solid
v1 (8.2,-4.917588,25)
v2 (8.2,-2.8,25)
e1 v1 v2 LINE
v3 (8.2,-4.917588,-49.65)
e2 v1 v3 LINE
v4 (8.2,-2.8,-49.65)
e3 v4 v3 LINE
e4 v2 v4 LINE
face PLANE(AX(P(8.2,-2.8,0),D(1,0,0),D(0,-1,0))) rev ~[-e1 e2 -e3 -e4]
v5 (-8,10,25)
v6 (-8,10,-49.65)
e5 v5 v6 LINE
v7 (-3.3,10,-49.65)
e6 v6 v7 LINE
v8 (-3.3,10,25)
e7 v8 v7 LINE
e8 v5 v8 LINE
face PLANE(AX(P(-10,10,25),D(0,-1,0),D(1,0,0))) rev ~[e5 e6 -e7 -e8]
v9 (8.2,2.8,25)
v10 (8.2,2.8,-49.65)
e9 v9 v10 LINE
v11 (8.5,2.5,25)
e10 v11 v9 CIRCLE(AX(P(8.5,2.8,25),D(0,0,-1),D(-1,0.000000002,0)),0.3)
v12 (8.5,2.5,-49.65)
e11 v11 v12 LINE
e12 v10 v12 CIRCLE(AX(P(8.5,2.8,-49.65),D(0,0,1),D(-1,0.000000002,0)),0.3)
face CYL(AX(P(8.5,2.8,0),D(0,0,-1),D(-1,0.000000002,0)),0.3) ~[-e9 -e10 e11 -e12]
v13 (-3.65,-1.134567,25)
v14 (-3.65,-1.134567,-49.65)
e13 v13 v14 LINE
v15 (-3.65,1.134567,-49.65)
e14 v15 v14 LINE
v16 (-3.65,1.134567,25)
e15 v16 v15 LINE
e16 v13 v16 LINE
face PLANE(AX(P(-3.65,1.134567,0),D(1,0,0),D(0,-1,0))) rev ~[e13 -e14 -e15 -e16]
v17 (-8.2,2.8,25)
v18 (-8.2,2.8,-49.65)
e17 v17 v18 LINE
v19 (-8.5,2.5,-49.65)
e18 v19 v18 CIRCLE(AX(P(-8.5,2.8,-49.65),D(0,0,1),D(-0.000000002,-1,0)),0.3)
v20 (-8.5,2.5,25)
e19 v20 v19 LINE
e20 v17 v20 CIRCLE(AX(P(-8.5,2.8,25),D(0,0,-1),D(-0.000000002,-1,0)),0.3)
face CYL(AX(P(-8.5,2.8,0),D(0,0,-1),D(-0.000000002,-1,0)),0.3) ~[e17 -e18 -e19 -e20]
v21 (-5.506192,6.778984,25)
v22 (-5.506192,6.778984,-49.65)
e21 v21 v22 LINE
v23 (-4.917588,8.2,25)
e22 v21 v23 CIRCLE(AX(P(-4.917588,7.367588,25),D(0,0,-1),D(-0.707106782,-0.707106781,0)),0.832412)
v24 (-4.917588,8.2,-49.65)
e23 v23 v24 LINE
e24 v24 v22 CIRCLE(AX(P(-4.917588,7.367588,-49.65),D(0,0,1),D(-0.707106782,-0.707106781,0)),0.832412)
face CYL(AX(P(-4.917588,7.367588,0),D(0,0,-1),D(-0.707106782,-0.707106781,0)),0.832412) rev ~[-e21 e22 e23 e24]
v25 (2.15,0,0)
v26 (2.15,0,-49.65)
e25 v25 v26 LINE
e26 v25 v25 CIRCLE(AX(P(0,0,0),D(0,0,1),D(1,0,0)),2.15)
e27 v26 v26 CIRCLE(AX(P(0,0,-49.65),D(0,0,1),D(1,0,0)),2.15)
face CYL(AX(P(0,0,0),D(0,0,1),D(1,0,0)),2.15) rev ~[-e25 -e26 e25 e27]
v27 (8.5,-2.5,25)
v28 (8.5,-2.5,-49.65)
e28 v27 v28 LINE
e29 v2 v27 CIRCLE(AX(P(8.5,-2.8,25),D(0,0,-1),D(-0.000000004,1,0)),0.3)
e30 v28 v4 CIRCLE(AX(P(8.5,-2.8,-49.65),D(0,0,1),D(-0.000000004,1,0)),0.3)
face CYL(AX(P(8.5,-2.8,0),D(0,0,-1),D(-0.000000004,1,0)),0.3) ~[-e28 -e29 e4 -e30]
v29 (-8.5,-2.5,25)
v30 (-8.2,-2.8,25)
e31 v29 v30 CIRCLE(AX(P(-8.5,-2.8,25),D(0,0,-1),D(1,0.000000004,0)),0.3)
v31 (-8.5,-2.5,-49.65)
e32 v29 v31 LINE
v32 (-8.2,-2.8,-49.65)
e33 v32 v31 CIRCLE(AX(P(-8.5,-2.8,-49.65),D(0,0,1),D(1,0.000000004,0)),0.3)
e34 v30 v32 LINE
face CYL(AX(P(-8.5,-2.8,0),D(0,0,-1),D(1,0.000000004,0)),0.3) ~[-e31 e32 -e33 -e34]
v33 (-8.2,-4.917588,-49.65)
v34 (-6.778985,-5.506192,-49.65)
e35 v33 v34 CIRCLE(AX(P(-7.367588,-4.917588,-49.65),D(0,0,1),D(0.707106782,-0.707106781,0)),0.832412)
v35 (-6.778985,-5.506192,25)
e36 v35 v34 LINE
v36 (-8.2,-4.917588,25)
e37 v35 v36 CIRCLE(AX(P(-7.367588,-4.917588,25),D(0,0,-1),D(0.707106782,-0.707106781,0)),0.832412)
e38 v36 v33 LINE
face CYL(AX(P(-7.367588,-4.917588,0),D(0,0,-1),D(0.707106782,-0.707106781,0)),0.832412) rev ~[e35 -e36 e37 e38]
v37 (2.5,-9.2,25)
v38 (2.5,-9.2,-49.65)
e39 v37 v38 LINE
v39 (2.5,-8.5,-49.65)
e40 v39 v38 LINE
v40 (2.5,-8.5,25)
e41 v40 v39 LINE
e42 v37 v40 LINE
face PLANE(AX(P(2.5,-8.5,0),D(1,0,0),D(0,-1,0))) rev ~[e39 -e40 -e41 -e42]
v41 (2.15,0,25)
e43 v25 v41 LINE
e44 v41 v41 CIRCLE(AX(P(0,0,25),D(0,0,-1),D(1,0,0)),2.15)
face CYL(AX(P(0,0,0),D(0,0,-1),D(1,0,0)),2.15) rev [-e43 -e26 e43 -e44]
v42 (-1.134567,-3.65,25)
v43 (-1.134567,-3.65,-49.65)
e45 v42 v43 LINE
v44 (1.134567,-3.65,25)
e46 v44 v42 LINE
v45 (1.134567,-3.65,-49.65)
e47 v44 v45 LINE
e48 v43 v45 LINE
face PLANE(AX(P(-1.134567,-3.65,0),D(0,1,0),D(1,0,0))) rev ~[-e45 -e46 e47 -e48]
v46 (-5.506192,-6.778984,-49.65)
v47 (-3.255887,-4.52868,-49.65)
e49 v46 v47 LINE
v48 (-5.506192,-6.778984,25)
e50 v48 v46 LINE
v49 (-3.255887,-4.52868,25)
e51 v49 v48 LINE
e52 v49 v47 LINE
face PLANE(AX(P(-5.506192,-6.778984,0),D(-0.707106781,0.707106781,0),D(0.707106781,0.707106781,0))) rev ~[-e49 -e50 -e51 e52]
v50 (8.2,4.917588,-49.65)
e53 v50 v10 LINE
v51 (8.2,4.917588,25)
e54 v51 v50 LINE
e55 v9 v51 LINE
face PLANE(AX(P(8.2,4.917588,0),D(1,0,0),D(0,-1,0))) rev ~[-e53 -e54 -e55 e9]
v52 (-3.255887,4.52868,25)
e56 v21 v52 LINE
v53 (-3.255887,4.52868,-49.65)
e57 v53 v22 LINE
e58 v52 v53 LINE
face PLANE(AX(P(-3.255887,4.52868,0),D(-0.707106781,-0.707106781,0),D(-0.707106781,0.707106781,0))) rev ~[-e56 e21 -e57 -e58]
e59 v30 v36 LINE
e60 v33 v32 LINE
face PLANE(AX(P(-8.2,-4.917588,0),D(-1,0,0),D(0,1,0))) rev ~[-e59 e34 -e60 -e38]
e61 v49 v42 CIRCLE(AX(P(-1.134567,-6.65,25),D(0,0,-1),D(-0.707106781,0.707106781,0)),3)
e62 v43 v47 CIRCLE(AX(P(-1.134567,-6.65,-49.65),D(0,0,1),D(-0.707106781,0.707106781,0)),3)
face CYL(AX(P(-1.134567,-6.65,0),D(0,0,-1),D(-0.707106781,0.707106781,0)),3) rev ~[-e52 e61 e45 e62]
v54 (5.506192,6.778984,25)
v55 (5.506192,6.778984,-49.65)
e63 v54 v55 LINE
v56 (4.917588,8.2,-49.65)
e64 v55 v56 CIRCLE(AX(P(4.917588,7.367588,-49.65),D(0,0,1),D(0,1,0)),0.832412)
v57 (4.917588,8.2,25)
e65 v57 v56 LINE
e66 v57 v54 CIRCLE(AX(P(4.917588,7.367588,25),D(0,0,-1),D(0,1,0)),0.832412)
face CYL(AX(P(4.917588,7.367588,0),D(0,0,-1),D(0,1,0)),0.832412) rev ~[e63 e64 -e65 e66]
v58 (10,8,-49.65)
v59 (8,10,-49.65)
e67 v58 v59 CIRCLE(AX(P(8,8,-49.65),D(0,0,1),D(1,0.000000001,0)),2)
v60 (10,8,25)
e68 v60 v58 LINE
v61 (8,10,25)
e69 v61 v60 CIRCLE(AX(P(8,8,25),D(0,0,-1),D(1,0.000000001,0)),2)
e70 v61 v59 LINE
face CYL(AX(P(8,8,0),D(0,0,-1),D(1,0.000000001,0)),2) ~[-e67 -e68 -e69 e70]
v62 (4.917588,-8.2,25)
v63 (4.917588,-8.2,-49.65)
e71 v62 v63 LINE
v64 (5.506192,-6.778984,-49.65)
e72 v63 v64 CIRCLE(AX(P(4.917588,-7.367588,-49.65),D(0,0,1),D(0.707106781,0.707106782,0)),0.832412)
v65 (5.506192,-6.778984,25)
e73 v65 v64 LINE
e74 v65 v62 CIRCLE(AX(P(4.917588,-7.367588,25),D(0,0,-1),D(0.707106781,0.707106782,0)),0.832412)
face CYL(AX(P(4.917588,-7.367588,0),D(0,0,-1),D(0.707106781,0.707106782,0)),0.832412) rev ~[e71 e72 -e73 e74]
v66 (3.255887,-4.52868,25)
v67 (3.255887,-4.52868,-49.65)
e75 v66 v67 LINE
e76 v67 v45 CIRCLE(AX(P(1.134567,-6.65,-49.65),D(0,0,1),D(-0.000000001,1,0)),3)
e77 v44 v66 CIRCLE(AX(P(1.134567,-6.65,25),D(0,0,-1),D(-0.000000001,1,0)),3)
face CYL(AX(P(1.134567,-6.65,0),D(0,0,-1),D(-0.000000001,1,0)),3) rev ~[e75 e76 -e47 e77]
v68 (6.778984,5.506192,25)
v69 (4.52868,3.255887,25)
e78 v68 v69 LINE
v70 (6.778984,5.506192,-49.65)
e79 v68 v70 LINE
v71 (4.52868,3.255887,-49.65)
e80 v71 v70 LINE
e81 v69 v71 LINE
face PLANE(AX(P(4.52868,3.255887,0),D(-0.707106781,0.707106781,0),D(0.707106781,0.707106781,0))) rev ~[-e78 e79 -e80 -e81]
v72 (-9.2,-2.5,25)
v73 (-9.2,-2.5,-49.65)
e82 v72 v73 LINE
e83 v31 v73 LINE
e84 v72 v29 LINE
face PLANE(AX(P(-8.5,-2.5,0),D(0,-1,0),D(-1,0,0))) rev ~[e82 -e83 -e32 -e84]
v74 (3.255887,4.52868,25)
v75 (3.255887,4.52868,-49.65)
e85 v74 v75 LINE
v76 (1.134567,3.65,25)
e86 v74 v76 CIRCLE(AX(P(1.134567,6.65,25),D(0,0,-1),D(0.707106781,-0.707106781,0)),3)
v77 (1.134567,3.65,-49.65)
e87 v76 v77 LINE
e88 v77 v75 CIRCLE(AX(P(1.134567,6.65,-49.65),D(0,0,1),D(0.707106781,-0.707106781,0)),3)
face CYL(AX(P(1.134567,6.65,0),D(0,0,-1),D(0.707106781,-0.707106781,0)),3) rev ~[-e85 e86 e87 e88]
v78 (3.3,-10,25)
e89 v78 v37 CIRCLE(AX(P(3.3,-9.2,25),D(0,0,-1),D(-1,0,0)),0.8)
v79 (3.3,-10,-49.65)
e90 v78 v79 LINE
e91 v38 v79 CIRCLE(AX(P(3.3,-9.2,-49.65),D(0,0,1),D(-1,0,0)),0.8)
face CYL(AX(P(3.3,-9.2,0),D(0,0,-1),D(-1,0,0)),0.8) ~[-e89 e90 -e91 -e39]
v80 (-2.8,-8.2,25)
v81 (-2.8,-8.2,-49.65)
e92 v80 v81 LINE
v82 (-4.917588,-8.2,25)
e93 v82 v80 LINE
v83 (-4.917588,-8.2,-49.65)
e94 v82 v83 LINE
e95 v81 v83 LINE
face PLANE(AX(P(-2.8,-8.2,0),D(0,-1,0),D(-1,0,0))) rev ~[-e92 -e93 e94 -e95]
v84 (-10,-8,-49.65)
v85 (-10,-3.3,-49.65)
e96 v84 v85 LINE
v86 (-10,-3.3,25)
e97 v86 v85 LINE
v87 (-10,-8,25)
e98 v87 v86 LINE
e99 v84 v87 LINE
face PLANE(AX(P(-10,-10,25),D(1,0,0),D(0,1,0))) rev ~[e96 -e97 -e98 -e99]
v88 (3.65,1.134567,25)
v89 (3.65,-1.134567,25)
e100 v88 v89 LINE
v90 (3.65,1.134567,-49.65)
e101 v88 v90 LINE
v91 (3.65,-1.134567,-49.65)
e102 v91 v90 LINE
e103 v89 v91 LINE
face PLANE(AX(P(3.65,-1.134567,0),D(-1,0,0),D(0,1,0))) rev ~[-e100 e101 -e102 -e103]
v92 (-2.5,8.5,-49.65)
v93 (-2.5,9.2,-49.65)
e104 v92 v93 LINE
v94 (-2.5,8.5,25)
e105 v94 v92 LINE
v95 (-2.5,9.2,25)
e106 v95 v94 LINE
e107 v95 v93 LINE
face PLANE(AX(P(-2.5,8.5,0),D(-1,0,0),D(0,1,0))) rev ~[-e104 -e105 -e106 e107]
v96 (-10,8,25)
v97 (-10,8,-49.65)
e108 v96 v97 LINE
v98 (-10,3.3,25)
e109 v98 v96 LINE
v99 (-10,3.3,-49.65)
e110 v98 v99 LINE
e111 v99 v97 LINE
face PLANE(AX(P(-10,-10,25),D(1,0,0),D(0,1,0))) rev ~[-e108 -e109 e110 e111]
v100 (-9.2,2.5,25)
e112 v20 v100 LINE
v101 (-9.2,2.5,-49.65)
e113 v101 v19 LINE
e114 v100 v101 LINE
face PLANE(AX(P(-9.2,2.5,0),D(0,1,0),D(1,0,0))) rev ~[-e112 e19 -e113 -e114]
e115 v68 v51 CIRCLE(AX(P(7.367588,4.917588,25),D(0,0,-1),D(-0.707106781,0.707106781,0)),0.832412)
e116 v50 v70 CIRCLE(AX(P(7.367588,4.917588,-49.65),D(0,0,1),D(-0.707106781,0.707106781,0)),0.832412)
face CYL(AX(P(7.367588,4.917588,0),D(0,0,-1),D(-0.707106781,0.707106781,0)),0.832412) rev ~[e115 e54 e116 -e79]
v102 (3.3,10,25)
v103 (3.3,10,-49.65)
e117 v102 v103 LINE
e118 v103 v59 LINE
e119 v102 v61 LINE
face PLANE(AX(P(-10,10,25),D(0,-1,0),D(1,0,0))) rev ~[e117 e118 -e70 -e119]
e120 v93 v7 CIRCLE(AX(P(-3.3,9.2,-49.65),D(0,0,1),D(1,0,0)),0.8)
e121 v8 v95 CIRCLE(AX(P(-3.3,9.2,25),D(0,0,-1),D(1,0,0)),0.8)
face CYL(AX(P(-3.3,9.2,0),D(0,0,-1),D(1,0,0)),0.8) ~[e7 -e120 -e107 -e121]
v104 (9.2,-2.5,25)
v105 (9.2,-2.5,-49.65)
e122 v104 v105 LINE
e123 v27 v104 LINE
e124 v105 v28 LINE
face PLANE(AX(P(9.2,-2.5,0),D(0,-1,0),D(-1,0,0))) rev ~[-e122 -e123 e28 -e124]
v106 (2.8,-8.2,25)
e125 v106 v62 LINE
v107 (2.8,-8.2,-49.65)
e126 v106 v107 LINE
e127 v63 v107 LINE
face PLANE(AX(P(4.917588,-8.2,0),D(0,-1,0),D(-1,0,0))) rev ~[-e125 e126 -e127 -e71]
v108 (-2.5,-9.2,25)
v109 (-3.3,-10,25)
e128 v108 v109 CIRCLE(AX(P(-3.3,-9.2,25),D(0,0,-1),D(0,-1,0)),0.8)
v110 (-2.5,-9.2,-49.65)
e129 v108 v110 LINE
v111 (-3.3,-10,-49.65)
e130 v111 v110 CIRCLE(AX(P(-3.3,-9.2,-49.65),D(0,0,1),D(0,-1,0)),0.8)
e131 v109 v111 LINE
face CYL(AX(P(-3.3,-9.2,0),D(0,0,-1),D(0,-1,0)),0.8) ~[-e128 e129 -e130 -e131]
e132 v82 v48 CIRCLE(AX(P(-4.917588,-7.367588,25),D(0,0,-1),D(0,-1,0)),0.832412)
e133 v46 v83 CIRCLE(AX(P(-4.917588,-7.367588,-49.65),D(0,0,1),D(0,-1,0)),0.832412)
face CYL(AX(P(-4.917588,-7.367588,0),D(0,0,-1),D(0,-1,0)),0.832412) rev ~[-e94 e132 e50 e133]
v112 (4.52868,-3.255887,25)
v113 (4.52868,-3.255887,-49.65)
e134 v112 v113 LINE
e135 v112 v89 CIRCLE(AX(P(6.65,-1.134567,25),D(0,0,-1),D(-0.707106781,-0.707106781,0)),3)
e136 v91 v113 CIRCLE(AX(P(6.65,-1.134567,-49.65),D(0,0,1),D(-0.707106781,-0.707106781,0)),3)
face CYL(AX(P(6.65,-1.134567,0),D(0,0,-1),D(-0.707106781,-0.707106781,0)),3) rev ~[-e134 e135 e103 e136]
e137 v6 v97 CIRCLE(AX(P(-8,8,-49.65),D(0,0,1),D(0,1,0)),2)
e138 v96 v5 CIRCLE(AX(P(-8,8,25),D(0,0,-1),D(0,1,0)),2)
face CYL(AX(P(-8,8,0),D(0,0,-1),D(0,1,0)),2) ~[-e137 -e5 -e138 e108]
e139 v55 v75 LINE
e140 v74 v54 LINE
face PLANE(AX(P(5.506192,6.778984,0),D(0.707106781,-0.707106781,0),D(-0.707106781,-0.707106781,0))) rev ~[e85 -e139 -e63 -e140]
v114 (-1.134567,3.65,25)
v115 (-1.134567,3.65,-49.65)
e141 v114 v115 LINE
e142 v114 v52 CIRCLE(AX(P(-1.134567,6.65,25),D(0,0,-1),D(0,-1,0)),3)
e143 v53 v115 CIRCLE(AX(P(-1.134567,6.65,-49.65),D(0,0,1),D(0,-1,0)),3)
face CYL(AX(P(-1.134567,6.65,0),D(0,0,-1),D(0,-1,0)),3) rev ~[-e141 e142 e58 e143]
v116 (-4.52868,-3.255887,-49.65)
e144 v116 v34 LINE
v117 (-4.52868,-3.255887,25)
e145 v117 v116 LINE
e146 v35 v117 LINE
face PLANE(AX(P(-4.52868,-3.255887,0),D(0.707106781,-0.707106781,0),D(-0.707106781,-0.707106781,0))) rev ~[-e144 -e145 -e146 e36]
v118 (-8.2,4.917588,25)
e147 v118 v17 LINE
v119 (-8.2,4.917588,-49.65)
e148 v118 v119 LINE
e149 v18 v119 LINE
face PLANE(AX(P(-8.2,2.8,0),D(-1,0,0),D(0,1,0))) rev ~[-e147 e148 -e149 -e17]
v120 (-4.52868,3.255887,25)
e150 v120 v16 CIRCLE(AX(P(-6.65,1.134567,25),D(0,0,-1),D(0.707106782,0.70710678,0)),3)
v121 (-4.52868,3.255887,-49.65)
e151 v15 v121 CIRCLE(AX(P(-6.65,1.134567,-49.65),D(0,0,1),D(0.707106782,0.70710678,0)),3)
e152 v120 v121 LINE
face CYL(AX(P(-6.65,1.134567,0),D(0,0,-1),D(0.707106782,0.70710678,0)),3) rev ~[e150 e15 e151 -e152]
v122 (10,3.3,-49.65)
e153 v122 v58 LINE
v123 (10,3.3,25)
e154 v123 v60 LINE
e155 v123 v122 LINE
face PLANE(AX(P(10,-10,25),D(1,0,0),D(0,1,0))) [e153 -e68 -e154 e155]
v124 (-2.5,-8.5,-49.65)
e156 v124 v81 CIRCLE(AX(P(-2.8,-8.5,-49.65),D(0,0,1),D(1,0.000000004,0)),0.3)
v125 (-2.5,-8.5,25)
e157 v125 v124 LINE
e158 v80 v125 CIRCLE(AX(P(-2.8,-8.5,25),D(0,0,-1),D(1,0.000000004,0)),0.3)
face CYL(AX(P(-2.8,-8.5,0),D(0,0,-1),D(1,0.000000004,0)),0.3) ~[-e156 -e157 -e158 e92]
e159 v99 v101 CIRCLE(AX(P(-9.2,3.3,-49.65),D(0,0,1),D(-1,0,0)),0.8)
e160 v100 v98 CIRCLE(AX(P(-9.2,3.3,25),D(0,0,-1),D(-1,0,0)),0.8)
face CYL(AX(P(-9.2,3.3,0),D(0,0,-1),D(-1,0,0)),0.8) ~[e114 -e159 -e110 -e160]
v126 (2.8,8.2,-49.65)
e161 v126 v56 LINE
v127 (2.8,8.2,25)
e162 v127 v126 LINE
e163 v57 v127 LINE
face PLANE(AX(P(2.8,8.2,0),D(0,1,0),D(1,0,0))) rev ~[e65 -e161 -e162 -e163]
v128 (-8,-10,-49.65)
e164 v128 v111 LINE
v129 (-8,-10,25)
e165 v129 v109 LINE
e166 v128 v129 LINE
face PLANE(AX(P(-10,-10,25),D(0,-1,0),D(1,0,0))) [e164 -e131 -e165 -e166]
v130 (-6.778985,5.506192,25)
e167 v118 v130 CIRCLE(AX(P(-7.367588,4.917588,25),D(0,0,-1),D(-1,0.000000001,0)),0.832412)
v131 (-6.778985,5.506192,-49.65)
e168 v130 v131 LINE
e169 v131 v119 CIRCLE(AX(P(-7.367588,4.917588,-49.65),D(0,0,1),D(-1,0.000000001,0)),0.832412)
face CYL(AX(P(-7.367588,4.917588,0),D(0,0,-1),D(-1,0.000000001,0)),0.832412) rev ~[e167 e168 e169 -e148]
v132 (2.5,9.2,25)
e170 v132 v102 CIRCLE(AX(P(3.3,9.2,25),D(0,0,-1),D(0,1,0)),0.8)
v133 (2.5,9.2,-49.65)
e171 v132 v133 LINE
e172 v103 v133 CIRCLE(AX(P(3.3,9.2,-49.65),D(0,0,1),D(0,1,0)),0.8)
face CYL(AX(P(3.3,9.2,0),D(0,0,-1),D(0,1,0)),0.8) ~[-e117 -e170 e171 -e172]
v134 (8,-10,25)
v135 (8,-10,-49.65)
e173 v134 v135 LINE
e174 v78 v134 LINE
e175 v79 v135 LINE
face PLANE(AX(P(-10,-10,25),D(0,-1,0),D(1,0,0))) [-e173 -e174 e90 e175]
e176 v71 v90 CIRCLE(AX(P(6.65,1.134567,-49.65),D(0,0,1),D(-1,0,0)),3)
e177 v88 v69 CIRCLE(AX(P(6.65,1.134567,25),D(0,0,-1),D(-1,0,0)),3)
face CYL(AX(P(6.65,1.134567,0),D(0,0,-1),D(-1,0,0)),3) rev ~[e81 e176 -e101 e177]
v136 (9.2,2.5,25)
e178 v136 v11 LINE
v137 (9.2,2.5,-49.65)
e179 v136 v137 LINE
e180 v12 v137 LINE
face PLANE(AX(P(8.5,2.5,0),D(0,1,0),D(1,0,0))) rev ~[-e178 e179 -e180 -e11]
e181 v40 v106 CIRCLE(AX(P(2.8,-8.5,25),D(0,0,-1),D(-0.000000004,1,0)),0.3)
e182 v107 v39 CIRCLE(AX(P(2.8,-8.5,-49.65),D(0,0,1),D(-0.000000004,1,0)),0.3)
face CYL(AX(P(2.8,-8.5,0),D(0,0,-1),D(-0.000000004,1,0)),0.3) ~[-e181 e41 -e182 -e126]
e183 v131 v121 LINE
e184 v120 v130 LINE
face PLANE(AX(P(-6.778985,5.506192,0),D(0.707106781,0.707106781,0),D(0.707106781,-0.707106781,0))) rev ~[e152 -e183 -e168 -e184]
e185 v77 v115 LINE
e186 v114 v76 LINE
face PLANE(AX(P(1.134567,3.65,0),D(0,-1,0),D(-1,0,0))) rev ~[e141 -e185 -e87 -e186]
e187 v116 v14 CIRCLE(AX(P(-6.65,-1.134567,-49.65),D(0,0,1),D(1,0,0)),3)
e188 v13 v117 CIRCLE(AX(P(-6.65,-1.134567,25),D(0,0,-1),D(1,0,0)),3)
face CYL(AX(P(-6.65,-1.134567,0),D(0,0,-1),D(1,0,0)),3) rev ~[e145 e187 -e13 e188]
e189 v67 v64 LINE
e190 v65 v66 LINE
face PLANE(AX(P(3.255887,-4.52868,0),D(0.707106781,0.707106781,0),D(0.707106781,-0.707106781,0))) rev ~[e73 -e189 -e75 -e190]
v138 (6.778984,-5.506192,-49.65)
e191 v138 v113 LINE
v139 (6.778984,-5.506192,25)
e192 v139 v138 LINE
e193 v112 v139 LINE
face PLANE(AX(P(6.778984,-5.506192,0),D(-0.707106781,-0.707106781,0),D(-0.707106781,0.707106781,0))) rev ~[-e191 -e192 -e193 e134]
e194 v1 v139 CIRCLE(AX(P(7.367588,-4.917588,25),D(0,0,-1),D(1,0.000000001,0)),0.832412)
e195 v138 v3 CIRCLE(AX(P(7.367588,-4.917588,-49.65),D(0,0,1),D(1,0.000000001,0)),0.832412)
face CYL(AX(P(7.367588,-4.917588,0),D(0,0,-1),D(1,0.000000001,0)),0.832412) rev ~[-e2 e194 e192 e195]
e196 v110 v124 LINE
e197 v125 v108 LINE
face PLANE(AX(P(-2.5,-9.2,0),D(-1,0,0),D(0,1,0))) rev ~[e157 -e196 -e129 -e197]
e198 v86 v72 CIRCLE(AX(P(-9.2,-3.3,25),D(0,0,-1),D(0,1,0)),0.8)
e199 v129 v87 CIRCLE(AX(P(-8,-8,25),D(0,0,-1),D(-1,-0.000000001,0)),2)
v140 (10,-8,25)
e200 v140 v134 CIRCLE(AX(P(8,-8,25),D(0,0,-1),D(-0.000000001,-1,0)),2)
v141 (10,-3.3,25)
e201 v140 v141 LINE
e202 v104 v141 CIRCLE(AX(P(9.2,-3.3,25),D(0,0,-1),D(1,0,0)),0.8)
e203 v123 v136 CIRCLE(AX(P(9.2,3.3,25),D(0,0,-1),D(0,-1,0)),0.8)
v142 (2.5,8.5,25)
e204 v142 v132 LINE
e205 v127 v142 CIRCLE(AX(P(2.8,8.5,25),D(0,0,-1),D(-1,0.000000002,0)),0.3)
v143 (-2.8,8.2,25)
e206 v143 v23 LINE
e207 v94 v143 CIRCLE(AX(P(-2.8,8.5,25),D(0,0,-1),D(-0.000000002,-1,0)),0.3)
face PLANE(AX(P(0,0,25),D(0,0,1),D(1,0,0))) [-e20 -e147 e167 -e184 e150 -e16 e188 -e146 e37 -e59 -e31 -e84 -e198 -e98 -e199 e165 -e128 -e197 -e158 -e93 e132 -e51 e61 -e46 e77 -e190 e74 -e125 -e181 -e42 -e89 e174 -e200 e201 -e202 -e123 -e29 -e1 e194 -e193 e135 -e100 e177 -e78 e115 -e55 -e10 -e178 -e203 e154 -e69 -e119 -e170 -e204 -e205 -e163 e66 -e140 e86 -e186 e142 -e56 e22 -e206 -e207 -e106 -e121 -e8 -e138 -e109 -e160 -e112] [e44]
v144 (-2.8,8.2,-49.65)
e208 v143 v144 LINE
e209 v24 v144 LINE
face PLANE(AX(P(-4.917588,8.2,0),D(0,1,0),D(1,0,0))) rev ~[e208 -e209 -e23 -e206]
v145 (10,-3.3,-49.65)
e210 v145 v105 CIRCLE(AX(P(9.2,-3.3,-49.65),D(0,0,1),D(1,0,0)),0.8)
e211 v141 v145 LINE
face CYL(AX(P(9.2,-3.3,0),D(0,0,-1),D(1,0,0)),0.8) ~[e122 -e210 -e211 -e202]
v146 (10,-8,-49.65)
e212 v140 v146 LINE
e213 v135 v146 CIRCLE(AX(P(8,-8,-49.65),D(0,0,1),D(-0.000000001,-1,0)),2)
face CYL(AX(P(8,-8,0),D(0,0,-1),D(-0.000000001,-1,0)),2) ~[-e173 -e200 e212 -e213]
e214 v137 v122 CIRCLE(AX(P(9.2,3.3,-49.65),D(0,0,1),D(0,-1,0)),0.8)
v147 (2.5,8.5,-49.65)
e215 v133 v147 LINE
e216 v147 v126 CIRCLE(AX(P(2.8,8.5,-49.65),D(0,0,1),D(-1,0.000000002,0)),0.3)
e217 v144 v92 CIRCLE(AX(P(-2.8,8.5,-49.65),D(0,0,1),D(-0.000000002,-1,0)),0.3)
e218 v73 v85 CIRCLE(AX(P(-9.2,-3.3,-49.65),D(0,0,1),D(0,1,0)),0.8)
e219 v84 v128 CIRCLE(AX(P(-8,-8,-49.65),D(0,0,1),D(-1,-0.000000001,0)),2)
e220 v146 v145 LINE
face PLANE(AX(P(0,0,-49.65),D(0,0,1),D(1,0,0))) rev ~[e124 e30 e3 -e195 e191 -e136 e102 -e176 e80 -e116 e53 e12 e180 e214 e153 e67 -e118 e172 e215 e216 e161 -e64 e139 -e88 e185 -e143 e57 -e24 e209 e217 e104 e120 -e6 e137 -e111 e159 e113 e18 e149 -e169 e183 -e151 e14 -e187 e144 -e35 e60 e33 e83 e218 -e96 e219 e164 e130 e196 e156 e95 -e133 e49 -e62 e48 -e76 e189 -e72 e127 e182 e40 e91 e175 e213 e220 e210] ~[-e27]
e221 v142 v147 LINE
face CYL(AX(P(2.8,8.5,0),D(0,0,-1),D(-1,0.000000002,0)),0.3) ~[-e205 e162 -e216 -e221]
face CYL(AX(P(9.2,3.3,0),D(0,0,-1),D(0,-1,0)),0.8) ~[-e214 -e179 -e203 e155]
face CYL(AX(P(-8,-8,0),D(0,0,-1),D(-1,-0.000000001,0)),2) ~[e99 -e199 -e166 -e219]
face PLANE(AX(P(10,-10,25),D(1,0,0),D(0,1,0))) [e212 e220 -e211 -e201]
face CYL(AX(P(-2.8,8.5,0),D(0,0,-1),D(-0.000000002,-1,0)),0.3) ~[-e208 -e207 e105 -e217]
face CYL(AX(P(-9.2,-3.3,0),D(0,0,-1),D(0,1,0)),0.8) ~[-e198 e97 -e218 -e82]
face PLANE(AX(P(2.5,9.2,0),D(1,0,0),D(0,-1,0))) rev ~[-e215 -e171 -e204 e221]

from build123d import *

# Parameters (mm, degrees)
SKETCH4_W              = 20
SKETCH4_H              = 20
BODY_DEPTH             = 74.65
SKETCH16_OUTSIDE_W     = 37.966
SKETCH16_OUTSIDE_H     = 37.966
SKETCH16_OUTSIDE_R     = 2.15
CUT_PROFILE_DEPTH      = 26
CUT_PROFILE_DEPTH_BACK = 50.65


with BuildPart() as part:
    # Sketch4 → Body (new body)
    with BuildSketch(Plane.XY.offset(25)):
        Rectangle(SKETCH4_W, SKETCH4_H)
    extrude(amount=-BODY_DEPTH)

    # Sketch16 outside → Cut-Profile (cut, two sides)
    with BuildSketch(Plane.XY) as cut_profile_sk:
        Rectangle(SKETCH16_OUTSIDE_W, SKETCH16_OUTSIDE_H)
        with BuildLine():
            Line((4.917588389, -8.199999991), (2.799999989, -8.199999991))
            ThreePointArc((2.799999989, -8.199999991), (2.587867955, -8.287867957), (2.499999989, -8.499999991))
            Line((2.499999989, -8.499999991), (2.499999989, -9.199999991))
            ThreePointArc((2.499999989, -9.199999991), (2.734314564, -9.765685416), (3.299999989, -9.999999991))
            Line((3.299999989, -9.999999991), (7.999999989, -9.999999991))
            ThreePointArc((7.999999989, -9.999999991), (9.414213552, -9.414213554), (9.999999989, -7.999999991))
            Line((9.999999989, -7.999999991), (9.999999989, -3.299999991))
            ThreePointArc((9.999999989, -3.299999991), (9.765685414, -2.734314566), (9.199999989, -2.499999991))
            Line((9.199999989, -2.499999991), (8.499999989, -2.499999991))
            ThreePointArc((8.499999989, -2.499999991), (8.287867955, -2.587867957), (8.199999989, -2.799999991))
            Line((8.199999989, -2.799999991), (8.199999989, -4.917588391))
            ThreePointArc((8.199999989, -4.917588391), (7.686138511, -5.686636441), (6.778984485, -5.506192286))
            Line((6.778984485, -5.506192286), (4.528679645, -3.255887446))
            ThreePointArc((4.528679645, -3.255887446), (3.878361392, -2.282617401), (3.64999999, -1.134567106))
            Line((3.64999999, -1.134567106), (3.64999999, 1.134567104))
            ThreePointArc((3.64999999, 1.134567104), (3.878361393, 2.282617402), (4.528679647, 3.255887448))
            Line((4.528679647, 3.255887448), (6.778984487, 5.506192288))
            ThreePointArc((6.778984487, 5.506192288), (7.686138506, 5.686636442), (8.199999981, 4.917588398))
            Line((8.199999981, 4.917588398), (8.199999981, 2.799999998))
            ThreePointArc((8.199999981, 2.799999998), (8.287867946, 2.587867964), (8.499999981, 2.499999998))
            Line((8.499999981, 2.499999998), (9.199999981, 2.499999998))
            ThreePointArc((9.199999981, 2.499999998), (9.765685406, 2.734314573), (9.999999981, 3.299999998))
            Line((9.999999981, 3.299999998), (9.999999981, 7.999999998))
            ThreePointArc((9.999999981, 7.999999998), (9.414213543, 9.41421356), (7.999999981, 9.999999998))
            Line((7.999999981, 9.999999998), (3.299999981, 9.999999998))
            ThreePointArc((3.299999981, 9.999999998), (2.734314556, 9.765685423), (2.499999981, 9.199999998))
            Line((2.499999981, 9.199999998), (2.499999981, 8.499999998))
            ThreePointArc((2.499999981, 8.499999998), (2.587867946, 8.287867964), (2.799999981, 8.199999998))
            Line((2.799999981, 8.199999998), (4.917588381, 8.199999998))
            ThreePointArc((4.917588381, 8.199999998), (5.68663643, 7.68613852), (5.506192275, 6.778984494))
            Line((5.506192275, 6.778984494), (3.255887435, 4.528679654))
            ThreePointArc((3.255887435, 4.528679654), (2.28261739, 3.878361401), (1.134567095, 3.649999999))
            Line((1.134567095, 3.649999999), (-1.134567115, 3.649999999))
            ThreePointArc((-1.134567115, 3.649999999), (-2.282617412, 3.878361401), (-3.255887459, 4.528679655))
            Line((-3.255887459, 4.528679655), (-5.506192299, 6.778984495))
            ThreePointArc((-5.506192299, 6.778984495), (-5.686636452, 7.686138515), (-4.917588409, 8.199999989))
            Line((-4.917588409, 8.199999989), (-2.800000009, 8.199999989))
            ThreePointArc((-2.800000009, 8.199999989), (-2.587867974, 8.287867955), (-2.500000009, 8.499999989))
            Line((-2.500000009, 8.499999989), (-2.500000009, 9.199999989))
            ThreePointArc((-2.500000009, 9.199999989), (-2.734314584, 9.765685414), (-3.300000009, 9.999999989))
            Line((-3.300000009, 9.999999989), (-8.000000009, 9.999999989))
            ThreePointArc((-8.000000009, 9.999999989), (-9.414213571, 9.414213552), (-10.000000009, 7.999999989))
            Line((-10.000000009, 7.999999989), (-10.000000009, 3.299999989))
            ThreePointArc((-10.000000009, 3.299999989), (-9.765685434, 2.734314564), (-9.200000009, 2.499999989))
            Line((-9.200000009, 2.499999989), (-8.500000009, 2.499999989))
            ThreePointArc((-8.500000009, 2.499999989), (-8.287867974, 2.587867955), (-8.200000009, 2.799999989))
            Line((-8.200000009, 2.799999989), (-8.200000009, 4.917588389))
            ThreePointArc((-8.200000009, 4.917588389), (-7.686138531, 5.686636438), (-6.778984504, 5.506192284))
            Line((-6.778984504, 5.506192284), (-4.528679664, 3.255887444))
            ThreePointArc((-4.528679664, 3.255887444), (-3.878361412, 2.282617399), (-3.650000009, 1.134567104))
            Line((-3.650000009, 1.134567104), (-3.650000009, -1.134567106))
            ThreePointArc((-3.650000009, -1.134567106), (-3.878361412, -2.282617404), (-4.528679666, -3.25588745))
            Line((-4.528679666, -3.25588745), (-6.778984506, -5.50619229))
            ThreePointArc((-6.778984506, -5.50619229), (-7.686138526, -5.686636444), (-8.2, -4.9175884))
            Line((-8.2, -4.9175884), (-8.2, -2.8))
            ThreePointArc((-8.2, -2.8), (-8.287867966, -2.587867966), (-8.5, -2.5))
            Line((-8.5, -2.5), (-9.2, -2.5))
            ThreePointArc((-9.2, -2.5), (-9.765685425, -2.734314575), (-10, -3.3))
            Line((-10, -3.3), (-10, -8))
            ThreePointArc((-10, -8), (-9.414213562, -9.414213562), (-8, -10))
            Line((-8, -10), (-3.3, -10))
            ThreePointArc((-3.3, -10), (-2.734314575, -9.765685425), (-2.5, -9.2))
            Line((-2.5, -9.2), (-2.5, -8.5))
            ThreePointArc((-2.5, -8.5), (-2.587867966, -8.287867966), (-2.8, -8.2))
            Line((-2.8, -8.2), (-4.9175884, -8.2))
            ThreePointArc((-4.9175884, -8.2), (-5.686636449, -7.686138522), (-5.506192294, -6.778984496))
            Line((-5.506192294, -6.778984496), (-3.255887454, -4.528679656))
            ThreePointArc((-3.255887454, -4.528679656), (-2.282617409, -3.878361403), (-1.134567114, -3.650000001))
            Line((-1.134567114, -3.650000001), (1.134567096, -3.650000001))
            ThreePointArc((1.134567096, -3.650000001), (2.282617393, -3.878361403), (3.255887439, -4.528679657))
            Line((3.255887439, -4.528679657), (5.506192279, -6.778984497))
            ThreePointArc((5.506192279, -6.778984497), (5.686636433, -7.686138517), (4.917588389, -8.199999991))
        make_face(mode=Mode.SUBTRACT)
        Circle(SKETCH16_OUTSIDE_R)
    extrude(amount=CUT_PROFILE_DEPTH, mode=Mode.SUBTRACT)
    extrude(cut_profile_sk.sketch, amount=-CUT_PROFILE_DEPTH_BACK, mode=Mode.SUBTRACT)


solid = part.part
